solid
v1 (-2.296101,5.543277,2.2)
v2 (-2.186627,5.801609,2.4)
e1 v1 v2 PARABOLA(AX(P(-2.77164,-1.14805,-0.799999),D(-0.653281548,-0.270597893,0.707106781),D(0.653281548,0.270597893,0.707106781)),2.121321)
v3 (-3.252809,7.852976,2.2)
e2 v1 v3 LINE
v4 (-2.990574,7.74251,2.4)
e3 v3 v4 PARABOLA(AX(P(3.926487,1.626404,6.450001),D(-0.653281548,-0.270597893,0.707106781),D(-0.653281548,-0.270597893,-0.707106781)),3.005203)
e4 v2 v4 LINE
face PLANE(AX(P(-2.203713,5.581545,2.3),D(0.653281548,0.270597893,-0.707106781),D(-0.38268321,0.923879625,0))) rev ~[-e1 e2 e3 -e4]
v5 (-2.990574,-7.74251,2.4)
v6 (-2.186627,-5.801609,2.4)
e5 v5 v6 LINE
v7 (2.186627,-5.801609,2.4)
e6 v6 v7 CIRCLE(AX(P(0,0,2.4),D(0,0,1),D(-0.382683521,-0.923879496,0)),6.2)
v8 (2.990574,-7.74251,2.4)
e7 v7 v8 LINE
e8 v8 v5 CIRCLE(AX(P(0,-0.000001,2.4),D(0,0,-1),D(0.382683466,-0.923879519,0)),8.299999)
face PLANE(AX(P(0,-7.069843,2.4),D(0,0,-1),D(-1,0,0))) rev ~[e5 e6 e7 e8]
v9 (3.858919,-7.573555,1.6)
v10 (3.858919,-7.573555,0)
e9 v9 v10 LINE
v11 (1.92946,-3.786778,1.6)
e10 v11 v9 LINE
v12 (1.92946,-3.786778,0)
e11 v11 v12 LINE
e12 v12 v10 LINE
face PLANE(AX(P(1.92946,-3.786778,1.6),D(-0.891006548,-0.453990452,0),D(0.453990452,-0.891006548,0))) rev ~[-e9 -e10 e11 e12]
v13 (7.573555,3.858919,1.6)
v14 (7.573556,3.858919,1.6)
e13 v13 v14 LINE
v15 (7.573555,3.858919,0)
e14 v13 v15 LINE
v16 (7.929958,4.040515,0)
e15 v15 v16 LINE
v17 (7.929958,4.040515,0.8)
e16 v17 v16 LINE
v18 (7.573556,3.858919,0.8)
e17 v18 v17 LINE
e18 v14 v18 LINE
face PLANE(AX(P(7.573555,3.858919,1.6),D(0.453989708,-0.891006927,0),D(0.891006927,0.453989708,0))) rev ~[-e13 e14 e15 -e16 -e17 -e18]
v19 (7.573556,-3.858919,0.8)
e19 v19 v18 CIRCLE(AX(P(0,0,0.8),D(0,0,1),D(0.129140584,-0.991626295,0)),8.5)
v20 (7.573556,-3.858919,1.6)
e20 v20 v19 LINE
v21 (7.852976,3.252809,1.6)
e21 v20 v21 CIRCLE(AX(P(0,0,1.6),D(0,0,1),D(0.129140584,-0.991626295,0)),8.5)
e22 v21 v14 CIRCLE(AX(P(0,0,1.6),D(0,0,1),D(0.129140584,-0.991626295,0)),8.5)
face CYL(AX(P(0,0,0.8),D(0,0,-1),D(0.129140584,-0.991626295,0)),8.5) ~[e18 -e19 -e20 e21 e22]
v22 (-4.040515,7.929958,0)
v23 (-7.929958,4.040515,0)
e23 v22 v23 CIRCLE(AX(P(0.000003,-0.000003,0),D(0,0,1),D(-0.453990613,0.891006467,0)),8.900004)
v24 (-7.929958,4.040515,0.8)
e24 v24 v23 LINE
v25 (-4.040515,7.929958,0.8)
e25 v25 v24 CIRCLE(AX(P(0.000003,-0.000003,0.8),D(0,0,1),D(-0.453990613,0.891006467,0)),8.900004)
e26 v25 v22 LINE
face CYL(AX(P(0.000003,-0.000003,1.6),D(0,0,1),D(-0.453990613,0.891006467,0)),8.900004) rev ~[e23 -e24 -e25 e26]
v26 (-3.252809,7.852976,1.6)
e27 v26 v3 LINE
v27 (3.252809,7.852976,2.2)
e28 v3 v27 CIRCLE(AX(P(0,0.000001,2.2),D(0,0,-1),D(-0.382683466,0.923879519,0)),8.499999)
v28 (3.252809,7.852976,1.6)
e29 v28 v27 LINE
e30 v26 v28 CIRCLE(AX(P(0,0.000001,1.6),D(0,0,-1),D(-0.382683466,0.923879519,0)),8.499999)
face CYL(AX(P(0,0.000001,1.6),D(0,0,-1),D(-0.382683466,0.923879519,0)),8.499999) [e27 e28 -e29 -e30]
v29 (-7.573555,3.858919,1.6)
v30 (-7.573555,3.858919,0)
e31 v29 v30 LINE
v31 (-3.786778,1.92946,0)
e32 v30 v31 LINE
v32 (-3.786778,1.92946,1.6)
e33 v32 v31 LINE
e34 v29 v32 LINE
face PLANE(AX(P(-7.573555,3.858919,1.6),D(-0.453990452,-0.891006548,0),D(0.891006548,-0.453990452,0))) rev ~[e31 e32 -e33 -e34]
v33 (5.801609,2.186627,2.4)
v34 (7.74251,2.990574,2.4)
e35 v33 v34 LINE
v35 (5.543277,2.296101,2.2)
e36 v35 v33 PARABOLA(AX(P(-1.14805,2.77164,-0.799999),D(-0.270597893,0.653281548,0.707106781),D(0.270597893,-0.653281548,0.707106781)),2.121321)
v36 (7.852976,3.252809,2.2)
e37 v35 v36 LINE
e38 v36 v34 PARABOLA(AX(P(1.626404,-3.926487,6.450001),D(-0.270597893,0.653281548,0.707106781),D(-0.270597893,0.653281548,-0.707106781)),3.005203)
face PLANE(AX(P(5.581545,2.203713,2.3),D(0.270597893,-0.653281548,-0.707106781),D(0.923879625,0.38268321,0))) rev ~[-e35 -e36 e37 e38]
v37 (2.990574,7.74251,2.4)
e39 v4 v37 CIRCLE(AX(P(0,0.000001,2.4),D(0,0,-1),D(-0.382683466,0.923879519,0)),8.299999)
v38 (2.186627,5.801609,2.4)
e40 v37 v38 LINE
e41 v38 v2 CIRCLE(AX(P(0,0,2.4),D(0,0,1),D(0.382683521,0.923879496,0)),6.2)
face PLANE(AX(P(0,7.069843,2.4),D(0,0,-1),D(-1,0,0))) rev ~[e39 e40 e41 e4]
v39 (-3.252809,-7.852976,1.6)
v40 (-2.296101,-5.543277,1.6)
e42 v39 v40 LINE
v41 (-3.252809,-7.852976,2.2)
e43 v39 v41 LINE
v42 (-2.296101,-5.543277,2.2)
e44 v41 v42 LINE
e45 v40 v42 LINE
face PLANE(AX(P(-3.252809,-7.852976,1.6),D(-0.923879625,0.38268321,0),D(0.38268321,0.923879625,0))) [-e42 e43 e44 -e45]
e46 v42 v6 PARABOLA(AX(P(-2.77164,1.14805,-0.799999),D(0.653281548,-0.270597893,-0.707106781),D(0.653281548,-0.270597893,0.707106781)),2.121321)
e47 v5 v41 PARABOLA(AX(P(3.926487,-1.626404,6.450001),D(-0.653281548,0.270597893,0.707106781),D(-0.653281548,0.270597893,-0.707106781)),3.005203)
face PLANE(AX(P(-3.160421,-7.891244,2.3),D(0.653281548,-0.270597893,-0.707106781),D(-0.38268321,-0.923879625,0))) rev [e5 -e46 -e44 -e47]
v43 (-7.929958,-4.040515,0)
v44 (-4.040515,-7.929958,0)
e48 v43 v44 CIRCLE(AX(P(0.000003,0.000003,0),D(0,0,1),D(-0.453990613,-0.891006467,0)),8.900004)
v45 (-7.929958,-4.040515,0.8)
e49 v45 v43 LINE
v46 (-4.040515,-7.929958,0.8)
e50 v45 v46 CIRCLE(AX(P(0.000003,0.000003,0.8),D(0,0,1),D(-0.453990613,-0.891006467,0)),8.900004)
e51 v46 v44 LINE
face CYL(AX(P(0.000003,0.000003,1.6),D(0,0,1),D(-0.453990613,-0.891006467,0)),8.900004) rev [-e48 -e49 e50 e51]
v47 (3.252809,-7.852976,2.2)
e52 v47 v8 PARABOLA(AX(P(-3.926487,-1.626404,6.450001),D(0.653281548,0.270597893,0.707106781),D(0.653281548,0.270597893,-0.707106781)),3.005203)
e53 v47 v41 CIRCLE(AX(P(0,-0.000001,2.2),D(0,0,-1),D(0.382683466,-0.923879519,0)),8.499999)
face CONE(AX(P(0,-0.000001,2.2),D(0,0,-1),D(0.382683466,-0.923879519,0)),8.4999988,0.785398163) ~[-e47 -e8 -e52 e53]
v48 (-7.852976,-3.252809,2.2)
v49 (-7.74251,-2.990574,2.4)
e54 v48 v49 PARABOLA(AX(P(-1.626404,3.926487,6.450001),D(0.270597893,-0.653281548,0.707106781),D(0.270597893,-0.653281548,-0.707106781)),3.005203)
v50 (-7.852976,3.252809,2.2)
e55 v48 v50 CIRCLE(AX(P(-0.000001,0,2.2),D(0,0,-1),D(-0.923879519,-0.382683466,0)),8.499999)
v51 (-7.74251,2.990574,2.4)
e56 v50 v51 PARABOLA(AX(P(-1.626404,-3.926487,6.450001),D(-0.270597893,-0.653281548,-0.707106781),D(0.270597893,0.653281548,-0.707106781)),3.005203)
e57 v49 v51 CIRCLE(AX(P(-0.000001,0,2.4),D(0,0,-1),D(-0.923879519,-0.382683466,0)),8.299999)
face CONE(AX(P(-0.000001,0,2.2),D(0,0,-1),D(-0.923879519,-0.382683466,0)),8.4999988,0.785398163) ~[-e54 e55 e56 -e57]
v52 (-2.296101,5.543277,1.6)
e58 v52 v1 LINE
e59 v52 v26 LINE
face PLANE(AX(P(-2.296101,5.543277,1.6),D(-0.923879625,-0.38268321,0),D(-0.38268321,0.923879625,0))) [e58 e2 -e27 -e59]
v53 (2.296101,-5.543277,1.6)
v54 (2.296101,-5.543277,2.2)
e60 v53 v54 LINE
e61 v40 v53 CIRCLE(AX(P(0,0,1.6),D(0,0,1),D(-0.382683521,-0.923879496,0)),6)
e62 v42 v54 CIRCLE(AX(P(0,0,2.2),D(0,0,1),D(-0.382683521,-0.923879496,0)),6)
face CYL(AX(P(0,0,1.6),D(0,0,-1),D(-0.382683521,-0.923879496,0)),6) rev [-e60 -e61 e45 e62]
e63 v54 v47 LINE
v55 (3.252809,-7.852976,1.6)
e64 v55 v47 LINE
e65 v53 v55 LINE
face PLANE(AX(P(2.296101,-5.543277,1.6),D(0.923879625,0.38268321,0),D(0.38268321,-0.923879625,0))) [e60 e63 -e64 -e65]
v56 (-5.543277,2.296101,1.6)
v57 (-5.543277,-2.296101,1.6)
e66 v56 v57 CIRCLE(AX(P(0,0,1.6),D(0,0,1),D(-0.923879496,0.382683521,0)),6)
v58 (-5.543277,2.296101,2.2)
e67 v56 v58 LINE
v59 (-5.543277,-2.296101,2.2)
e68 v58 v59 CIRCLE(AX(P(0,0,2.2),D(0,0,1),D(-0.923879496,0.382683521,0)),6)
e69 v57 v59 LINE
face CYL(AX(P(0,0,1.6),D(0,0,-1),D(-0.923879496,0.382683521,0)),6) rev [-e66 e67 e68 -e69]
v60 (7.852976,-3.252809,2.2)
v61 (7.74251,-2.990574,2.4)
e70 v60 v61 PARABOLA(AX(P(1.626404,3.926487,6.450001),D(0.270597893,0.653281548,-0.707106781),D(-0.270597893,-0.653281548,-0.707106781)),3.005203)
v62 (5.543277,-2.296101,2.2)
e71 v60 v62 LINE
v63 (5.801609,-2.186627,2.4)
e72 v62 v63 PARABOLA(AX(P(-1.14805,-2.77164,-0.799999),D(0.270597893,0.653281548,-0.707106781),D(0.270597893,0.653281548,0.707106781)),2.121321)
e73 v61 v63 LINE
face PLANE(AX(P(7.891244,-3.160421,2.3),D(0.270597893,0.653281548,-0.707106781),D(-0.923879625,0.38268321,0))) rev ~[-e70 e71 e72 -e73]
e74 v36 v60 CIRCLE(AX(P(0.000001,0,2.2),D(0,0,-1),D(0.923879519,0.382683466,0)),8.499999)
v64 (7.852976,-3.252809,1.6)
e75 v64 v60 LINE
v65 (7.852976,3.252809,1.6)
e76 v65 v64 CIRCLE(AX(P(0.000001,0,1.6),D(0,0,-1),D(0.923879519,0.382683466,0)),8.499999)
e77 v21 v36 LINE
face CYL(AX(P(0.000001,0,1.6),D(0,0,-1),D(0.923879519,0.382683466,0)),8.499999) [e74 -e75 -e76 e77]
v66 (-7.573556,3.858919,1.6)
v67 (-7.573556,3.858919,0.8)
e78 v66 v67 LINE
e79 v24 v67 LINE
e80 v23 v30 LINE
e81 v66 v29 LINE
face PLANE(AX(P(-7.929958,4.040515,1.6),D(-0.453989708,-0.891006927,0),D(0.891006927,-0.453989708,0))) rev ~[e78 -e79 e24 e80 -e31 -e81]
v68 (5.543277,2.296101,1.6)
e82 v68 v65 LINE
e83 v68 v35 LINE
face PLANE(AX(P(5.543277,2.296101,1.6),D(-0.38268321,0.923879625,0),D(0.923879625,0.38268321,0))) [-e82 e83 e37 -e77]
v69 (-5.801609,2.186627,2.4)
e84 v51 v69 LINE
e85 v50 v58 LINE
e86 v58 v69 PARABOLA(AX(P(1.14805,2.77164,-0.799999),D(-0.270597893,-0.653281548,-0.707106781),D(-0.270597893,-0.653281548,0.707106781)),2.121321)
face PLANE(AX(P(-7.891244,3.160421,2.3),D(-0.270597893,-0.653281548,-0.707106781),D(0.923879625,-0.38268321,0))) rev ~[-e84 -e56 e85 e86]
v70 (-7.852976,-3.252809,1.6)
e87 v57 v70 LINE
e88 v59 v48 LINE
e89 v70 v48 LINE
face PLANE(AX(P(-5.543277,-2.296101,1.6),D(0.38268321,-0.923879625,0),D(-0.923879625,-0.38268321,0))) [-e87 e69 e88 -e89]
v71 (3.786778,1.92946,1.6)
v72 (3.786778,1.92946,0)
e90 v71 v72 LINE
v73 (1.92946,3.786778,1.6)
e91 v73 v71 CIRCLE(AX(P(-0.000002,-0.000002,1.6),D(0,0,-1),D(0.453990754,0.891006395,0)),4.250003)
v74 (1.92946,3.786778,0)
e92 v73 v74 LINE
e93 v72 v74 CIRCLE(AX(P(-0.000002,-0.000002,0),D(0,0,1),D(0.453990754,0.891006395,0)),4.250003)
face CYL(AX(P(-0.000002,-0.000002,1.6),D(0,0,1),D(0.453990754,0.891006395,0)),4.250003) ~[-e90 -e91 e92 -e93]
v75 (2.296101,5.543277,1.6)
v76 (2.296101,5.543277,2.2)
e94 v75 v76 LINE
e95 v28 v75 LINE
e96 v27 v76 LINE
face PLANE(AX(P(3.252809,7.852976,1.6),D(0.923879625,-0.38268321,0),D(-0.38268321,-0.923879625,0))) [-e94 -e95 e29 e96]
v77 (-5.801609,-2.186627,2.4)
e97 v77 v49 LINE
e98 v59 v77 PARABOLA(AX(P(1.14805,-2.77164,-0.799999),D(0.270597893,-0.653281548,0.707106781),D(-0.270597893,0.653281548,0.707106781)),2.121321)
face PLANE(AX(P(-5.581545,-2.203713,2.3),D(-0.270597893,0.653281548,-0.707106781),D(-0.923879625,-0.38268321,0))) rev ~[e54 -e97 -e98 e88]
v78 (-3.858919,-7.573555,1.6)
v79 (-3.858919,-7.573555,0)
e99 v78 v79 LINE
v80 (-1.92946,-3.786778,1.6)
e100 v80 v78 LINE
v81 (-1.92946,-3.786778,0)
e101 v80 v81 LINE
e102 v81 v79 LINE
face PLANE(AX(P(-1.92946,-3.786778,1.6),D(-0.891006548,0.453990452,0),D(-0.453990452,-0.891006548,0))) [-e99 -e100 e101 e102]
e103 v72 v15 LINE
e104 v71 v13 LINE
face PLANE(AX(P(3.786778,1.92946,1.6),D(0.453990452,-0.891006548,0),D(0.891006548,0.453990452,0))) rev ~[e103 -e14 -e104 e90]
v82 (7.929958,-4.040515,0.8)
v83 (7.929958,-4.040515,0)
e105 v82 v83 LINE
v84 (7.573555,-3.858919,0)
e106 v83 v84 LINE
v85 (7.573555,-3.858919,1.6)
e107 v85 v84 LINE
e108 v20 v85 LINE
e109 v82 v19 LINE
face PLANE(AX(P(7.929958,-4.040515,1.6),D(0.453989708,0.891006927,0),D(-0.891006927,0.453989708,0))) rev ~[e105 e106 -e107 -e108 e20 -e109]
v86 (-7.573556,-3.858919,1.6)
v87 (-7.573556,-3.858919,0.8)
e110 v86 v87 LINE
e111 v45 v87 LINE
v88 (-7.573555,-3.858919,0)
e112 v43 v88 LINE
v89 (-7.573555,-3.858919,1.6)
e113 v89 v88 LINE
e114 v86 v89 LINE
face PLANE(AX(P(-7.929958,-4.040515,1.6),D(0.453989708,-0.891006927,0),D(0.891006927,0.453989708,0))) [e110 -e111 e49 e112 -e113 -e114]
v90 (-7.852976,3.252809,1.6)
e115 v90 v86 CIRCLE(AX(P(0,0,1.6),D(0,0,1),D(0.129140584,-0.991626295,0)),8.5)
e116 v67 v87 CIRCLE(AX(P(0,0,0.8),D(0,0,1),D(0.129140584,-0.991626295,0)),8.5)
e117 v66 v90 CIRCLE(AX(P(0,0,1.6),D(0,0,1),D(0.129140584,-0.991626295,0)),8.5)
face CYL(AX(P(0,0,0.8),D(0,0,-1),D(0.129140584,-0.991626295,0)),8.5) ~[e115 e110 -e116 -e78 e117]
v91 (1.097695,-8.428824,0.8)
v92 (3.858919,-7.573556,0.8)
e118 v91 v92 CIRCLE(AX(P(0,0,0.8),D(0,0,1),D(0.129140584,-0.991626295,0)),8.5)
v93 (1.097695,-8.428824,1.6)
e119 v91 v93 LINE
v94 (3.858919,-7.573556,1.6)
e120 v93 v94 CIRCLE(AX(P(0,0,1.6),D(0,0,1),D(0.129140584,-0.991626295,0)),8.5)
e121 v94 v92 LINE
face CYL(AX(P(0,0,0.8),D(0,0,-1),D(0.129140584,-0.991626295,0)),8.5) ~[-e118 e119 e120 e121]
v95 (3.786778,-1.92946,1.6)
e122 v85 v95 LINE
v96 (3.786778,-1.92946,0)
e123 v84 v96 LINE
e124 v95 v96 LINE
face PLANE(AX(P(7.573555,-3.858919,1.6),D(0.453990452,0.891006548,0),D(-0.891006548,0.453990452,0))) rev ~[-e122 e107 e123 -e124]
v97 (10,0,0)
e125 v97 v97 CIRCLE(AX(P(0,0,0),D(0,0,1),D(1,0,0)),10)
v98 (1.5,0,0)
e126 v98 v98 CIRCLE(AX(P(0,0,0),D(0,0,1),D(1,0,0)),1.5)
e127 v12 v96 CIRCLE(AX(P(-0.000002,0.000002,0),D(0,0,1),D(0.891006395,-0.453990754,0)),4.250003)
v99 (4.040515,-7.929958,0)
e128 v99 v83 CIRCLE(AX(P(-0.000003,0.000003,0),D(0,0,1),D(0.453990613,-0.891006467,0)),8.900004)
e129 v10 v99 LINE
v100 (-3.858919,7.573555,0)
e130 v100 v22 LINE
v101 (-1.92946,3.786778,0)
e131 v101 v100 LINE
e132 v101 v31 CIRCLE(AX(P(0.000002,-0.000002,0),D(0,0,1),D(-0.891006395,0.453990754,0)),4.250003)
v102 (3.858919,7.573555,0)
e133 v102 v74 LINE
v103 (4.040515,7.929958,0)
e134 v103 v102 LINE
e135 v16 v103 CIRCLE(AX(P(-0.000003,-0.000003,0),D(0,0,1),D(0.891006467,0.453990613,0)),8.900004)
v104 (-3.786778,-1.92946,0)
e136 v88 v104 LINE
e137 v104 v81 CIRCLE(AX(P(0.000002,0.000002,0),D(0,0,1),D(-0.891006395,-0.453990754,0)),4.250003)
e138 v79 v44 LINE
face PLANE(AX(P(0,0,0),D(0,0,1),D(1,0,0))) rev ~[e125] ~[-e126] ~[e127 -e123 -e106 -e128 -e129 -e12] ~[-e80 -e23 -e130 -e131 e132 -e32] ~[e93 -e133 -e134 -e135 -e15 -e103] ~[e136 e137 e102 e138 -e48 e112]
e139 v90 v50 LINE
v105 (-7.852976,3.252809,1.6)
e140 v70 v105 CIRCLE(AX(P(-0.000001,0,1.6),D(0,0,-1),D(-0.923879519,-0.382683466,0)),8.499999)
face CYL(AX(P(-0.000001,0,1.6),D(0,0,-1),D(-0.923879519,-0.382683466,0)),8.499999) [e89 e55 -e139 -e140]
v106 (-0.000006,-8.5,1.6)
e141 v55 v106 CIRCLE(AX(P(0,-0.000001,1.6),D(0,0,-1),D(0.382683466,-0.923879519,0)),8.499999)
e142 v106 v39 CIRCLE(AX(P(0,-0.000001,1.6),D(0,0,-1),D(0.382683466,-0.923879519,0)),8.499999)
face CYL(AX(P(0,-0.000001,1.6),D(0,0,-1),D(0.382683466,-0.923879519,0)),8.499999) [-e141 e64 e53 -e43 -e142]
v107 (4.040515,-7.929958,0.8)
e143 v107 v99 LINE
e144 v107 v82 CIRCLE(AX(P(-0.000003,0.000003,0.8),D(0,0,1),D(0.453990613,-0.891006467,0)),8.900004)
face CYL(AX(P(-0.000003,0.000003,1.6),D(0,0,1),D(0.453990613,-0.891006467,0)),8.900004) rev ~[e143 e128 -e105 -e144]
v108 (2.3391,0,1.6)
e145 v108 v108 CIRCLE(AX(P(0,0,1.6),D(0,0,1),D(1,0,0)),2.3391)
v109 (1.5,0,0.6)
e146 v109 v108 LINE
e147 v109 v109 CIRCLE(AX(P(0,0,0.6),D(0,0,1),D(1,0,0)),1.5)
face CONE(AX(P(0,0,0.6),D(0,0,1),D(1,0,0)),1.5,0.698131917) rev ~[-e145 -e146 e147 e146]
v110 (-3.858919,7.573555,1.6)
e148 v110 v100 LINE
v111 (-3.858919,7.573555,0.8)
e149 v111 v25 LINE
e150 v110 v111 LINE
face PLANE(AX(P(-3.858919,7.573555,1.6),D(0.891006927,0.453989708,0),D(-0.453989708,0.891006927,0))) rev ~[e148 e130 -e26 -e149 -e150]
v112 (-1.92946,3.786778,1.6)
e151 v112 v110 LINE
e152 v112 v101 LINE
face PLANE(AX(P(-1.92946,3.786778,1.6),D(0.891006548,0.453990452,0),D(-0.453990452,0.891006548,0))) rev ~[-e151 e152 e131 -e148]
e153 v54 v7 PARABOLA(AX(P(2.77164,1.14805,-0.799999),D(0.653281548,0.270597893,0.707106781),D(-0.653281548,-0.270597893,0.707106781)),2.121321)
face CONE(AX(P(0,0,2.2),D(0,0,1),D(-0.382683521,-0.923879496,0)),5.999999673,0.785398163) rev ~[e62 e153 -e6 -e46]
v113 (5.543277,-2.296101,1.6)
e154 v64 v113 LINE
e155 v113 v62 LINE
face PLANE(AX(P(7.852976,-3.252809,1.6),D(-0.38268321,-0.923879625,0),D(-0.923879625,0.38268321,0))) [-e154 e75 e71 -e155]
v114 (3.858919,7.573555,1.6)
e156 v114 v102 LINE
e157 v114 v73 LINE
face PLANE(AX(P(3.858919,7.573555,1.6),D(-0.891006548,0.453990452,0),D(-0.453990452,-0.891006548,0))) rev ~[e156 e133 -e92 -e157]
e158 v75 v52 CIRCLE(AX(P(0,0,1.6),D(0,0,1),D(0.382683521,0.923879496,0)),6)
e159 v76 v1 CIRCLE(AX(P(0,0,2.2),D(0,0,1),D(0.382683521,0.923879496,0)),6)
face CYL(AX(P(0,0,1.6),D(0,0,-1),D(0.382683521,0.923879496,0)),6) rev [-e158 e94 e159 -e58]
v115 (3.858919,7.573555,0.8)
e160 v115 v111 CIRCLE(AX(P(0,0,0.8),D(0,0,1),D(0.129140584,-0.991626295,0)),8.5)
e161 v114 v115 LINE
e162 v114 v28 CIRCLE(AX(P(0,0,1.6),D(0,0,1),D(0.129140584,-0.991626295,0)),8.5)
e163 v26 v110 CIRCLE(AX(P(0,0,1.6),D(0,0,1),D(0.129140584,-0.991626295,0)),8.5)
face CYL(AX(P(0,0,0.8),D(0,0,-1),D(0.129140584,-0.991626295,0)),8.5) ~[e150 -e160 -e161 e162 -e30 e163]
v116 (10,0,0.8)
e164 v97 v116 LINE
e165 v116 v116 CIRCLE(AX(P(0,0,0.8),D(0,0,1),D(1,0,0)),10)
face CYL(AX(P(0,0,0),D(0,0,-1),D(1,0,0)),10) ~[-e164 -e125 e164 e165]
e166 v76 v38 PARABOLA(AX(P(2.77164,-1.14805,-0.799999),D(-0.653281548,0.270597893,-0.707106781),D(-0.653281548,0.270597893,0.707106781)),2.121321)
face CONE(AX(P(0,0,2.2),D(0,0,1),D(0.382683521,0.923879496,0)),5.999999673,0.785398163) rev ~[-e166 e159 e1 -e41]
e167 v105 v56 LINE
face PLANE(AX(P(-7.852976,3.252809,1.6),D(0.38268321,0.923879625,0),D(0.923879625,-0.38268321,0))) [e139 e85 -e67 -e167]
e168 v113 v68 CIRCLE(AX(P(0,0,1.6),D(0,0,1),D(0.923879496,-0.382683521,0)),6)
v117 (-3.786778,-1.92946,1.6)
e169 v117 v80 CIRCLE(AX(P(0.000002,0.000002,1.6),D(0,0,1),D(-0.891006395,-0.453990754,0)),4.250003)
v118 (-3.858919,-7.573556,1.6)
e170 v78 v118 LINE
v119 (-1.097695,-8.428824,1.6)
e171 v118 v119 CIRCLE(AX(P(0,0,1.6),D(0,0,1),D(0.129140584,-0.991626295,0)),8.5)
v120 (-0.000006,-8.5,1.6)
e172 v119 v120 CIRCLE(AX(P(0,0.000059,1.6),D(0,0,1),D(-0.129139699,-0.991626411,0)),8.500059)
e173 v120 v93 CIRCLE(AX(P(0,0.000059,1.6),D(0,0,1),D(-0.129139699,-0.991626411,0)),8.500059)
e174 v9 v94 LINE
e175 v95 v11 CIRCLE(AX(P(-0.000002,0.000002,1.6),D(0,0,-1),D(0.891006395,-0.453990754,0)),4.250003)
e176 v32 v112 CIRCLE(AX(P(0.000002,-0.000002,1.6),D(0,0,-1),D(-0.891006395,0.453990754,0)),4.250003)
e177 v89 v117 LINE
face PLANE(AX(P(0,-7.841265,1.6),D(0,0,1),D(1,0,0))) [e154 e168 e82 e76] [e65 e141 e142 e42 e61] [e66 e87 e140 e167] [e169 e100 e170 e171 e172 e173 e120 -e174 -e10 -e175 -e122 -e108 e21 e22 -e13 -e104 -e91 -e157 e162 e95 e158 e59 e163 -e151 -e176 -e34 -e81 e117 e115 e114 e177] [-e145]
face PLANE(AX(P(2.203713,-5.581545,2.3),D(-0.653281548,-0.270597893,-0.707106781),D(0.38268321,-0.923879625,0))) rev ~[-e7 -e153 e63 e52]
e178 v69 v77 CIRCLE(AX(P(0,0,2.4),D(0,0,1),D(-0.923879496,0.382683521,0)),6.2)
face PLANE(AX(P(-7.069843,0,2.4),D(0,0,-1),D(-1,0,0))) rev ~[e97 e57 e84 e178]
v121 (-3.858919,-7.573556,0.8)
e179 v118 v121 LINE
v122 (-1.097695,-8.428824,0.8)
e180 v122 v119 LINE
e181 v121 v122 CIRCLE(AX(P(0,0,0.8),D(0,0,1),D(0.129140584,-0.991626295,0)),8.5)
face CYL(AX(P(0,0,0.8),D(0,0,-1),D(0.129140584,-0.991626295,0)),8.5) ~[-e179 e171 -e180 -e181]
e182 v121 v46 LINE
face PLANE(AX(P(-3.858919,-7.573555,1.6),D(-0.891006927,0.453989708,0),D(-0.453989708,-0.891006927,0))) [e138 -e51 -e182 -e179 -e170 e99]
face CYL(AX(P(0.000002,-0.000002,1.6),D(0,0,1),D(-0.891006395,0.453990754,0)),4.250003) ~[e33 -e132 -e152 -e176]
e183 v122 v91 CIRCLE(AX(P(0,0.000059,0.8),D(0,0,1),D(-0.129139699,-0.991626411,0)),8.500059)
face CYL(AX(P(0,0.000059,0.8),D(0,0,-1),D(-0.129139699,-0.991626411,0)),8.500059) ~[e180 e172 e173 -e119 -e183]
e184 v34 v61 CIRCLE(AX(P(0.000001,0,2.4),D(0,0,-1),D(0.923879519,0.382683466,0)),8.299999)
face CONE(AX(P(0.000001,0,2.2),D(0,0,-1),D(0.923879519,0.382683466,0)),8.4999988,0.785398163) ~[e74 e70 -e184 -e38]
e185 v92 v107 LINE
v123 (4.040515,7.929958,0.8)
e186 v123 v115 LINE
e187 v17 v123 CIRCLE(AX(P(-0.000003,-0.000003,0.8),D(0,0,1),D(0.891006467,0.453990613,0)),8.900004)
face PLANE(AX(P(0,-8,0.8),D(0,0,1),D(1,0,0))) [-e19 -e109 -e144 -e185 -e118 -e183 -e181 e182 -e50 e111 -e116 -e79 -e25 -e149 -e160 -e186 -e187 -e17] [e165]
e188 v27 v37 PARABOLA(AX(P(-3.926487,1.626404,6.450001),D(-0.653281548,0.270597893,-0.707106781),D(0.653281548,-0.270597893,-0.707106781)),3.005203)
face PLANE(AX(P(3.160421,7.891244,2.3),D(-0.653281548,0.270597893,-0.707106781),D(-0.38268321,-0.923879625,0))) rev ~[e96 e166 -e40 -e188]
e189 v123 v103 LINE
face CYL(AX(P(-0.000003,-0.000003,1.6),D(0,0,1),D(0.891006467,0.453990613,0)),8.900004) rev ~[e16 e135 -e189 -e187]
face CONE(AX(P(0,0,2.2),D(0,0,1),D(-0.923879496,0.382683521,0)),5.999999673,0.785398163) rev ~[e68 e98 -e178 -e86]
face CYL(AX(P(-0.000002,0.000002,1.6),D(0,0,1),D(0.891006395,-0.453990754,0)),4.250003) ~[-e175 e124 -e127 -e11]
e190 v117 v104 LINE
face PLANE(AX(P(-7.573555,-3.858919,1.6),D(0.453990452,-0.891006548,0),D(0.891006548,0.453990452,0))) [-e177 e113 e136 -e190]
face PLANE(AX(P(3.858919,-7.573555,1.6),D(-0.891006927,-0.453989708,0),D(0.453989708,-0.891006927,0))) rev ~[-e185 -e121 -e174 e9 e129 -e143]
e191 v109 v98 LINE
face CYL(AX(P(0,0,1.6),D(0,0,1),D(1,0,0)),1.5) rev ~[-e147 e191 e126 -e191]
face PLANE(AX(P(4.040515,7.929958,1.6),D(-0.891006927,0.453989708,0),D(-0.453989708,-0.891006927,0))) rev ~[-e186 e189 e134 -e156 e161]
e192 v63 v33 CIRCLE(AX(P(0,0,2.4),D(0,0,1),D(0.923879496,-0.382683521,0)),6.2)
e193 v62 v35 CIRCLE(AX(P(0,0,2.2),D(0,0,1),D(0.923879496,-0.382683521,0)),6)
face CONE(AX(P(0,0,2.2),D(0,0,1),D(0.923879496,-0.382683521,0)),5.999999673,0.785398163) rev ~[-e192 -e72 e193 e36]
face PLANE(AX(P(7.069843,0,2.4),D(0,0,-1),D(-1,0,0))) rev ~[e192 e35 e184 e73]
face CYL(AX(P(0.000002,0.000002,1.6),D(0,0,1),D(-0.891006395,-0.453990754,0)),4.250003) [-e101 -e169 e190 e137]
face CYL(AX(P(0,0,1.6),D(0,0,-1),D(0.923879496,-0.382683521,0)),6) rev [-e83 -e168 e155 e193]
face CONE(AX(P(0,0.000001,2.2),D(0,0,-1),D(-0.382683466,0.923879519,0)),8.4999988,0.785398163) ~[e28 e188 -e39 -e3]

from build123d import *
from build123d.topology import SkipClean

# Parameters (mm, degrees)
SKETCH1_R                    = 10
BOSS_EXTRUDE1_DEPTH          = 0.8
SKETCH2_R                    = 1.1
CUT_EXTRUDE1_DEPTH           = 10
BOSS_EXTRUDE2_DEPTH          = 0.8
SKETCH4_R                    = 1.5
CUT_EXTRUDE2_DEPTH           = 10
CHAMFER1_SIZE                = 1
CHAMFER1_SIZE2               = 0.8391
SKETCH7_R                    = 1.1
BOSS_EXTRUDE3_DEPTH          = 0.8
BOSS_EXTRUDE4_DEPTH          = 0.8
CUT_EXTRUDE3_DEPTH           = 15.232357
CUT_EXTRUDE3_DEPTH_BACK      = 15.232357
SKETCH9_R                    = 0.755
CUT_EXTRUDE4_DEPTH           = 15.232357
CUT_EXTRUDE4_DEPTH_BACK      = 15.232357
SKETCH10_R                   = 1.5
CUT_EXTRUDE_THIN1_DEPTH      = 15.232357
CUT_EXTRUDE_THIN1_DEPTH_BACK = 0.8
BOSS_EXTRUDE5_DEPTH          = 0.8
SKETCH14_R                   = 0.755
CUT_EXTRUDE5_DEPTH           = 10
CHAMFER2_SIZE                = 0.2
CUT_EXTRUDE6_DEPTH           = 10


with BuildPart() as part:
    # Sketch1 → Boss-Extrude1 (new body)
    with BuildSketch(Plane.XY):
        Circle(SKETCH1_R)
    extrude(amount=BOSS_EXTRUDE1_DEPTH)

    # Sketch2 → Cut-Extrude1 (cut)
    with BuildSketch(Plane.XY.offset(0.8)):
        with Locations((0, -8)):
            Circle(SKETCH2_R)
    extrude(amount=-CUT_EXTRUDE1_DEPTH, mode=Mode.SUBTRACT)

    # Sketch3 → Boss-Extrude2 (add)
    with BuildSketch(Plane.XY.offset(0.8)):
        with BuildLine():
            ThreePointArc((1.097695, -8.428824), (0, 8.5), (-1.097695, -8.428824))
            ThreePointArc((-1.097695, -8.428824), (0, -6.821516), (1.097695, -8.428824))
        make_face()
    extrude(amount=BOSS_EXTRUDE2_DEPTH)

    # Sketch4 → Cut-Extrude2 (cut)
    with BuildSketch(Plane.XY.offset(1.6)):
        Circle(SKETCH4_R)
    extrude(amount=-CUT_EXTRUDE2_DEPTH, mode=Mode.SUBTRACT)

    # Chamfer1
    chamfer1_edges = [part.edges().sort_by_distance(p)[0] for p in [
        (-1.5, 0, 1.6),
    ]]
    chamfer1_side = [part.faces().sort_by_distance(p)[0] for p in [
        (-1.5, 0, 0.8),
    ]]
    chamfer(chamfer1_edges, length=CHAMFER1_SIZE, length2=CHAMFER1_SIZE2, reference=chamfer1_side[0])

    # Sketch7 → Boss-Extrude3 (add)
    with BuildSketch(Plane.XY.offset(0.8)):
        with Locations((0, -8)):
            Circle(SKETCH7_R)
    extrude(amount=-BOSS_EXTRUDE3_DEPTH)

    # Sketch8 → Boss-Extrude4 (add)
    with BuildSketch(Plane.XY.offset(0.8)):
        with BuildLine():
            ThreePointArc((1.097695, -8.428824), (0, -6.821516), (-1.097695, -8.428824))
            ThreePointArc((-1.097695, -8.428824), (0, -8.5), (1.097695, -8.428824))
        make_face()
    extrude(amount=BOSS_EXTRUDE4_DEPTH)

    # Sketch9 → Cut-Extrude3 (cut, two sides: drawn at the far end of the back side and taken through both)
    with BuildSketch(Plane.XY.offset(1.6).offset(-CUT_EXTRUDE3_DEPTH_BACK)):
        with Locations((-4.610336, -4.610336)):
            Circle(SKETCH9_R)
        with Locations((4.610336, 4.610336)):
            Circle(SKETCH9_R)
    extrude(amount=CUT_EXTRUDE3_DEPTH + CUT_EXTRUDE3_DEPTH_BACK, mode=Mode.SUBTRACT)

    # Sketch10 → Cut-Extrude4 (cut, two sides: drawn at the far end of the back side and taken through both)
    with BuildSketch(Plane.XY.offset(1.6).offset(-CUT_EXTRUDE4_DEPTH_BACK)):
        with Locations((4.610336, 4.610336)):
            Circle(SKETCH10_R)
    extrude(amount=CUT_EXTRUDE4_DEPTH + CUT_EXTRUDE4_DEPTH_BACK, mode=Mode.SUBTRACT)

    # Sketch11 → Cut-Extrude-Thin1 (cut, two sides: drawn at the far end of the back side and taken through both)
    with BuildSketch(Plane.XY.offset(1.6).offset(-CUT_EXTRUDE_THIN1_DEPTH_BACK)):
        Polygon((4.822468, 4.398204), (6.66735, 6.243086), (6.243086, 6.66735), (4.398204, 4.822468), align=None)
    extrude(amount=CUT_EXTRUDE_THIN1_DEPTH + CUT_EXTRUDE_THIN1_DEPTH_BACK, mode=Mode.SUBTRACT)

    # Sketch12 → Boss-Extrude5 (add)
    with SkipClean():  # the faces are left unmerged after this step: merging them gives an invalid solid
        with BuildSketch(Plane.XY.offset(1.6)):
            with BuildLine():
                Line((5.543277, 2.296101), (7.852976, 3.252809))
                ThreePointArc((7.852976, 3.252809), (8.5, 0), (7.852976, -3.252809))
                Line((7.852976, -3.252809), (5.543277, -2.296101))
                ThreePointArc((5.543277, -2.296101), (6, 0), (5.543277, 2.296101))
            make_face()
            with BuildLine():
                Line((2.296101, -5.543277), (3.252809, -7.852976))
                ThreePointArc((3.252809, -7.852976), (0, -8.5), (-3.252809, -7.852976))
                Line((-3.252809, -7.852976), (-2.296101, -5.543277))
                ThreePointArc((-2.296101, -5.543277), (0, -6), (2.296101, -5.543277))
            make_face()
            with BuildLine():
                Line((-5.543277, -2.296101), (-7.852976, -3.252809))
                ThreePointArc((-7.852976, -3.252809), (-8.5, 0), (-7.852976, 3.252809))
                Line((-7.852976, 3.252809), (-5.543277, 2.296101))
                ThreePointArc((-5.543277, 2.296101), (-6, 0), (-5.543277, -2.296101))
            make_face()
            with BuildLine():
                Line((-2.296101, 5.543277), (-3.252809, 7.852976))
                ThreePointArc((-3.252809, 7.852976), (0, 8.5), (3.252809, 7.852976))
                Line((3.252809, 7.852976), (2.296101, 5.543277))
                ThreePointArc((2.296101, 5.543277), (0, 6), (-2.296101, 5.543277))
            make_face()
        extrude(amount=BOSS_EXTRUDE5_DEPTH)

    # Sketch14 → Cut-Extrude5 (cut)
    with SkipClean():  # the faces are left unmerged after this step: merging them gives an invalid solid
        with BuildSketch(Plane.XY.offset(1.6)):
            with Locations((4.610336, -4.610336)):
                Circle(SKETCH14_R)
            with Locations((-4.610336, 4.610336)):
                Circle(SKETCH14_R)
        extrude(amount=-CUT_EXTRUDE5_DEPTH, mode=Mode.SUBTRACT)

    # Chamfer2
    chamfer2_edges = [part.edges().sort_by_distance(p)[0] for p in [
        (8.5, 0, 2.4),
        (6.698127, 2.774455, 2.4),
        (6, 0, 2.4),
        (6.698127, -2.774455, 2.4),
        (0, 8.5, 2.4),
        (-2.774455, 6.698127, 2.4),
        (0, 6, 2.4),
        (2.774455, 6.698127, 2.4),
        (-6, 0, 2.4),
        (-6.698127, 2.774455, 2.4),
        (-8.5, 0, 2.4),
        (-6.698127, -2.774455, 2.4),
        (0, -6, 2.4),
        (-2.774455, -6.698127, 2.4),
        (0, -8.5, 2.4),
        (2.774455, -6.698127, 2.4),
    ]]
    chamfer(chamfer2_edges, length=CHAMFER2_SIZE)

    # Sketch15 → Cut-Extrude6 (cut)
    with SkipClean():  # the faces are left unmerged after this step: merging them gives an invalid solid
        with BuildSketch(Plane.XY.offset(1.6)):
            with BuildLine():
                Line((-7.573555, -3.858919), (-3.786778, -1.92946))
                ThreePointArc((-3.786778, -1.92946), (-3.005204, -3.005204), (-1.92946, -3.786778))
                Line((-1.92946, -3.786778), (-3.858919, -7.573555))
                Line((-3.858919, -7.573555), (-4.040515, -7.929958))
                ThreePointArc((-4.040515, -7.929958), (-6.29325, -6.29325), (-7.929958, -4.040515))
                Line((-7.929958, -4.040515), (-7.573555, -3.858919))
            make_face()
            with BuildLine():
                Line((-7.573555, 3.858919), (-3.786778, 1.92946))
                ThreePointArc((-3.786778, 1.92946), (-3.005204, 3.005204), (-1.92946, 3.786778))
                Line((-1.92946, 3.786778), (-3.858919, 7.573555))
                Line((-3.858919, 7.573555), (-4.040515, 7.929958))
                ThreePointArc((-4.040515, 7.929958), (-6.29325, 6.29325), (-7.929958, 4.040515))
                Line((-7.929958, 4.040515), (-7.573555, 3.858919))
            make_face()
            with BuildLine():
                Line((3.858919, 7.573555), (1.92946, 3.786778))
                ThreePointArc((1.92946, 3.786778), (3.005204, 3.005204), (3.786778, 1.92946))
                Line((3.786778, 1.92946), (7.573555, 3.858919))
                Line((7.573555, 3.858919), (7.929958, 4.040515))
                ThreePointArc((7.929958, 4.040515), (6.29325, 6.29325), (4.040515, 7.929958))
                Line((4.040515, 7.929958), (3.858919, 7.573555))
            make_face()
            with BuildLine():
                Line((7.573555, -3.858919), (3.786778, -1.92946))
                ThreePointArc((3.786778, -1.92946), (3.005204, -3.005204), (1.92946, -3.786778))
                Line((1.92946, -3.786778), (3.858919, -7.573555))
                Line((3.858919, -7.573555), (4.040515, -7.929958))
                ThreePointArc((4.040515, -7.929958), (6.29325, -6.29325), (7.929958, -4.040515))
                Line((7.929958, -4.040515), (7.573555, -3.858919))
            make_face()
        extrude(amount=-CUT_EXTRUDE6_DEPTH, mode=Mode.SUBTRACT)


solid = part.part
